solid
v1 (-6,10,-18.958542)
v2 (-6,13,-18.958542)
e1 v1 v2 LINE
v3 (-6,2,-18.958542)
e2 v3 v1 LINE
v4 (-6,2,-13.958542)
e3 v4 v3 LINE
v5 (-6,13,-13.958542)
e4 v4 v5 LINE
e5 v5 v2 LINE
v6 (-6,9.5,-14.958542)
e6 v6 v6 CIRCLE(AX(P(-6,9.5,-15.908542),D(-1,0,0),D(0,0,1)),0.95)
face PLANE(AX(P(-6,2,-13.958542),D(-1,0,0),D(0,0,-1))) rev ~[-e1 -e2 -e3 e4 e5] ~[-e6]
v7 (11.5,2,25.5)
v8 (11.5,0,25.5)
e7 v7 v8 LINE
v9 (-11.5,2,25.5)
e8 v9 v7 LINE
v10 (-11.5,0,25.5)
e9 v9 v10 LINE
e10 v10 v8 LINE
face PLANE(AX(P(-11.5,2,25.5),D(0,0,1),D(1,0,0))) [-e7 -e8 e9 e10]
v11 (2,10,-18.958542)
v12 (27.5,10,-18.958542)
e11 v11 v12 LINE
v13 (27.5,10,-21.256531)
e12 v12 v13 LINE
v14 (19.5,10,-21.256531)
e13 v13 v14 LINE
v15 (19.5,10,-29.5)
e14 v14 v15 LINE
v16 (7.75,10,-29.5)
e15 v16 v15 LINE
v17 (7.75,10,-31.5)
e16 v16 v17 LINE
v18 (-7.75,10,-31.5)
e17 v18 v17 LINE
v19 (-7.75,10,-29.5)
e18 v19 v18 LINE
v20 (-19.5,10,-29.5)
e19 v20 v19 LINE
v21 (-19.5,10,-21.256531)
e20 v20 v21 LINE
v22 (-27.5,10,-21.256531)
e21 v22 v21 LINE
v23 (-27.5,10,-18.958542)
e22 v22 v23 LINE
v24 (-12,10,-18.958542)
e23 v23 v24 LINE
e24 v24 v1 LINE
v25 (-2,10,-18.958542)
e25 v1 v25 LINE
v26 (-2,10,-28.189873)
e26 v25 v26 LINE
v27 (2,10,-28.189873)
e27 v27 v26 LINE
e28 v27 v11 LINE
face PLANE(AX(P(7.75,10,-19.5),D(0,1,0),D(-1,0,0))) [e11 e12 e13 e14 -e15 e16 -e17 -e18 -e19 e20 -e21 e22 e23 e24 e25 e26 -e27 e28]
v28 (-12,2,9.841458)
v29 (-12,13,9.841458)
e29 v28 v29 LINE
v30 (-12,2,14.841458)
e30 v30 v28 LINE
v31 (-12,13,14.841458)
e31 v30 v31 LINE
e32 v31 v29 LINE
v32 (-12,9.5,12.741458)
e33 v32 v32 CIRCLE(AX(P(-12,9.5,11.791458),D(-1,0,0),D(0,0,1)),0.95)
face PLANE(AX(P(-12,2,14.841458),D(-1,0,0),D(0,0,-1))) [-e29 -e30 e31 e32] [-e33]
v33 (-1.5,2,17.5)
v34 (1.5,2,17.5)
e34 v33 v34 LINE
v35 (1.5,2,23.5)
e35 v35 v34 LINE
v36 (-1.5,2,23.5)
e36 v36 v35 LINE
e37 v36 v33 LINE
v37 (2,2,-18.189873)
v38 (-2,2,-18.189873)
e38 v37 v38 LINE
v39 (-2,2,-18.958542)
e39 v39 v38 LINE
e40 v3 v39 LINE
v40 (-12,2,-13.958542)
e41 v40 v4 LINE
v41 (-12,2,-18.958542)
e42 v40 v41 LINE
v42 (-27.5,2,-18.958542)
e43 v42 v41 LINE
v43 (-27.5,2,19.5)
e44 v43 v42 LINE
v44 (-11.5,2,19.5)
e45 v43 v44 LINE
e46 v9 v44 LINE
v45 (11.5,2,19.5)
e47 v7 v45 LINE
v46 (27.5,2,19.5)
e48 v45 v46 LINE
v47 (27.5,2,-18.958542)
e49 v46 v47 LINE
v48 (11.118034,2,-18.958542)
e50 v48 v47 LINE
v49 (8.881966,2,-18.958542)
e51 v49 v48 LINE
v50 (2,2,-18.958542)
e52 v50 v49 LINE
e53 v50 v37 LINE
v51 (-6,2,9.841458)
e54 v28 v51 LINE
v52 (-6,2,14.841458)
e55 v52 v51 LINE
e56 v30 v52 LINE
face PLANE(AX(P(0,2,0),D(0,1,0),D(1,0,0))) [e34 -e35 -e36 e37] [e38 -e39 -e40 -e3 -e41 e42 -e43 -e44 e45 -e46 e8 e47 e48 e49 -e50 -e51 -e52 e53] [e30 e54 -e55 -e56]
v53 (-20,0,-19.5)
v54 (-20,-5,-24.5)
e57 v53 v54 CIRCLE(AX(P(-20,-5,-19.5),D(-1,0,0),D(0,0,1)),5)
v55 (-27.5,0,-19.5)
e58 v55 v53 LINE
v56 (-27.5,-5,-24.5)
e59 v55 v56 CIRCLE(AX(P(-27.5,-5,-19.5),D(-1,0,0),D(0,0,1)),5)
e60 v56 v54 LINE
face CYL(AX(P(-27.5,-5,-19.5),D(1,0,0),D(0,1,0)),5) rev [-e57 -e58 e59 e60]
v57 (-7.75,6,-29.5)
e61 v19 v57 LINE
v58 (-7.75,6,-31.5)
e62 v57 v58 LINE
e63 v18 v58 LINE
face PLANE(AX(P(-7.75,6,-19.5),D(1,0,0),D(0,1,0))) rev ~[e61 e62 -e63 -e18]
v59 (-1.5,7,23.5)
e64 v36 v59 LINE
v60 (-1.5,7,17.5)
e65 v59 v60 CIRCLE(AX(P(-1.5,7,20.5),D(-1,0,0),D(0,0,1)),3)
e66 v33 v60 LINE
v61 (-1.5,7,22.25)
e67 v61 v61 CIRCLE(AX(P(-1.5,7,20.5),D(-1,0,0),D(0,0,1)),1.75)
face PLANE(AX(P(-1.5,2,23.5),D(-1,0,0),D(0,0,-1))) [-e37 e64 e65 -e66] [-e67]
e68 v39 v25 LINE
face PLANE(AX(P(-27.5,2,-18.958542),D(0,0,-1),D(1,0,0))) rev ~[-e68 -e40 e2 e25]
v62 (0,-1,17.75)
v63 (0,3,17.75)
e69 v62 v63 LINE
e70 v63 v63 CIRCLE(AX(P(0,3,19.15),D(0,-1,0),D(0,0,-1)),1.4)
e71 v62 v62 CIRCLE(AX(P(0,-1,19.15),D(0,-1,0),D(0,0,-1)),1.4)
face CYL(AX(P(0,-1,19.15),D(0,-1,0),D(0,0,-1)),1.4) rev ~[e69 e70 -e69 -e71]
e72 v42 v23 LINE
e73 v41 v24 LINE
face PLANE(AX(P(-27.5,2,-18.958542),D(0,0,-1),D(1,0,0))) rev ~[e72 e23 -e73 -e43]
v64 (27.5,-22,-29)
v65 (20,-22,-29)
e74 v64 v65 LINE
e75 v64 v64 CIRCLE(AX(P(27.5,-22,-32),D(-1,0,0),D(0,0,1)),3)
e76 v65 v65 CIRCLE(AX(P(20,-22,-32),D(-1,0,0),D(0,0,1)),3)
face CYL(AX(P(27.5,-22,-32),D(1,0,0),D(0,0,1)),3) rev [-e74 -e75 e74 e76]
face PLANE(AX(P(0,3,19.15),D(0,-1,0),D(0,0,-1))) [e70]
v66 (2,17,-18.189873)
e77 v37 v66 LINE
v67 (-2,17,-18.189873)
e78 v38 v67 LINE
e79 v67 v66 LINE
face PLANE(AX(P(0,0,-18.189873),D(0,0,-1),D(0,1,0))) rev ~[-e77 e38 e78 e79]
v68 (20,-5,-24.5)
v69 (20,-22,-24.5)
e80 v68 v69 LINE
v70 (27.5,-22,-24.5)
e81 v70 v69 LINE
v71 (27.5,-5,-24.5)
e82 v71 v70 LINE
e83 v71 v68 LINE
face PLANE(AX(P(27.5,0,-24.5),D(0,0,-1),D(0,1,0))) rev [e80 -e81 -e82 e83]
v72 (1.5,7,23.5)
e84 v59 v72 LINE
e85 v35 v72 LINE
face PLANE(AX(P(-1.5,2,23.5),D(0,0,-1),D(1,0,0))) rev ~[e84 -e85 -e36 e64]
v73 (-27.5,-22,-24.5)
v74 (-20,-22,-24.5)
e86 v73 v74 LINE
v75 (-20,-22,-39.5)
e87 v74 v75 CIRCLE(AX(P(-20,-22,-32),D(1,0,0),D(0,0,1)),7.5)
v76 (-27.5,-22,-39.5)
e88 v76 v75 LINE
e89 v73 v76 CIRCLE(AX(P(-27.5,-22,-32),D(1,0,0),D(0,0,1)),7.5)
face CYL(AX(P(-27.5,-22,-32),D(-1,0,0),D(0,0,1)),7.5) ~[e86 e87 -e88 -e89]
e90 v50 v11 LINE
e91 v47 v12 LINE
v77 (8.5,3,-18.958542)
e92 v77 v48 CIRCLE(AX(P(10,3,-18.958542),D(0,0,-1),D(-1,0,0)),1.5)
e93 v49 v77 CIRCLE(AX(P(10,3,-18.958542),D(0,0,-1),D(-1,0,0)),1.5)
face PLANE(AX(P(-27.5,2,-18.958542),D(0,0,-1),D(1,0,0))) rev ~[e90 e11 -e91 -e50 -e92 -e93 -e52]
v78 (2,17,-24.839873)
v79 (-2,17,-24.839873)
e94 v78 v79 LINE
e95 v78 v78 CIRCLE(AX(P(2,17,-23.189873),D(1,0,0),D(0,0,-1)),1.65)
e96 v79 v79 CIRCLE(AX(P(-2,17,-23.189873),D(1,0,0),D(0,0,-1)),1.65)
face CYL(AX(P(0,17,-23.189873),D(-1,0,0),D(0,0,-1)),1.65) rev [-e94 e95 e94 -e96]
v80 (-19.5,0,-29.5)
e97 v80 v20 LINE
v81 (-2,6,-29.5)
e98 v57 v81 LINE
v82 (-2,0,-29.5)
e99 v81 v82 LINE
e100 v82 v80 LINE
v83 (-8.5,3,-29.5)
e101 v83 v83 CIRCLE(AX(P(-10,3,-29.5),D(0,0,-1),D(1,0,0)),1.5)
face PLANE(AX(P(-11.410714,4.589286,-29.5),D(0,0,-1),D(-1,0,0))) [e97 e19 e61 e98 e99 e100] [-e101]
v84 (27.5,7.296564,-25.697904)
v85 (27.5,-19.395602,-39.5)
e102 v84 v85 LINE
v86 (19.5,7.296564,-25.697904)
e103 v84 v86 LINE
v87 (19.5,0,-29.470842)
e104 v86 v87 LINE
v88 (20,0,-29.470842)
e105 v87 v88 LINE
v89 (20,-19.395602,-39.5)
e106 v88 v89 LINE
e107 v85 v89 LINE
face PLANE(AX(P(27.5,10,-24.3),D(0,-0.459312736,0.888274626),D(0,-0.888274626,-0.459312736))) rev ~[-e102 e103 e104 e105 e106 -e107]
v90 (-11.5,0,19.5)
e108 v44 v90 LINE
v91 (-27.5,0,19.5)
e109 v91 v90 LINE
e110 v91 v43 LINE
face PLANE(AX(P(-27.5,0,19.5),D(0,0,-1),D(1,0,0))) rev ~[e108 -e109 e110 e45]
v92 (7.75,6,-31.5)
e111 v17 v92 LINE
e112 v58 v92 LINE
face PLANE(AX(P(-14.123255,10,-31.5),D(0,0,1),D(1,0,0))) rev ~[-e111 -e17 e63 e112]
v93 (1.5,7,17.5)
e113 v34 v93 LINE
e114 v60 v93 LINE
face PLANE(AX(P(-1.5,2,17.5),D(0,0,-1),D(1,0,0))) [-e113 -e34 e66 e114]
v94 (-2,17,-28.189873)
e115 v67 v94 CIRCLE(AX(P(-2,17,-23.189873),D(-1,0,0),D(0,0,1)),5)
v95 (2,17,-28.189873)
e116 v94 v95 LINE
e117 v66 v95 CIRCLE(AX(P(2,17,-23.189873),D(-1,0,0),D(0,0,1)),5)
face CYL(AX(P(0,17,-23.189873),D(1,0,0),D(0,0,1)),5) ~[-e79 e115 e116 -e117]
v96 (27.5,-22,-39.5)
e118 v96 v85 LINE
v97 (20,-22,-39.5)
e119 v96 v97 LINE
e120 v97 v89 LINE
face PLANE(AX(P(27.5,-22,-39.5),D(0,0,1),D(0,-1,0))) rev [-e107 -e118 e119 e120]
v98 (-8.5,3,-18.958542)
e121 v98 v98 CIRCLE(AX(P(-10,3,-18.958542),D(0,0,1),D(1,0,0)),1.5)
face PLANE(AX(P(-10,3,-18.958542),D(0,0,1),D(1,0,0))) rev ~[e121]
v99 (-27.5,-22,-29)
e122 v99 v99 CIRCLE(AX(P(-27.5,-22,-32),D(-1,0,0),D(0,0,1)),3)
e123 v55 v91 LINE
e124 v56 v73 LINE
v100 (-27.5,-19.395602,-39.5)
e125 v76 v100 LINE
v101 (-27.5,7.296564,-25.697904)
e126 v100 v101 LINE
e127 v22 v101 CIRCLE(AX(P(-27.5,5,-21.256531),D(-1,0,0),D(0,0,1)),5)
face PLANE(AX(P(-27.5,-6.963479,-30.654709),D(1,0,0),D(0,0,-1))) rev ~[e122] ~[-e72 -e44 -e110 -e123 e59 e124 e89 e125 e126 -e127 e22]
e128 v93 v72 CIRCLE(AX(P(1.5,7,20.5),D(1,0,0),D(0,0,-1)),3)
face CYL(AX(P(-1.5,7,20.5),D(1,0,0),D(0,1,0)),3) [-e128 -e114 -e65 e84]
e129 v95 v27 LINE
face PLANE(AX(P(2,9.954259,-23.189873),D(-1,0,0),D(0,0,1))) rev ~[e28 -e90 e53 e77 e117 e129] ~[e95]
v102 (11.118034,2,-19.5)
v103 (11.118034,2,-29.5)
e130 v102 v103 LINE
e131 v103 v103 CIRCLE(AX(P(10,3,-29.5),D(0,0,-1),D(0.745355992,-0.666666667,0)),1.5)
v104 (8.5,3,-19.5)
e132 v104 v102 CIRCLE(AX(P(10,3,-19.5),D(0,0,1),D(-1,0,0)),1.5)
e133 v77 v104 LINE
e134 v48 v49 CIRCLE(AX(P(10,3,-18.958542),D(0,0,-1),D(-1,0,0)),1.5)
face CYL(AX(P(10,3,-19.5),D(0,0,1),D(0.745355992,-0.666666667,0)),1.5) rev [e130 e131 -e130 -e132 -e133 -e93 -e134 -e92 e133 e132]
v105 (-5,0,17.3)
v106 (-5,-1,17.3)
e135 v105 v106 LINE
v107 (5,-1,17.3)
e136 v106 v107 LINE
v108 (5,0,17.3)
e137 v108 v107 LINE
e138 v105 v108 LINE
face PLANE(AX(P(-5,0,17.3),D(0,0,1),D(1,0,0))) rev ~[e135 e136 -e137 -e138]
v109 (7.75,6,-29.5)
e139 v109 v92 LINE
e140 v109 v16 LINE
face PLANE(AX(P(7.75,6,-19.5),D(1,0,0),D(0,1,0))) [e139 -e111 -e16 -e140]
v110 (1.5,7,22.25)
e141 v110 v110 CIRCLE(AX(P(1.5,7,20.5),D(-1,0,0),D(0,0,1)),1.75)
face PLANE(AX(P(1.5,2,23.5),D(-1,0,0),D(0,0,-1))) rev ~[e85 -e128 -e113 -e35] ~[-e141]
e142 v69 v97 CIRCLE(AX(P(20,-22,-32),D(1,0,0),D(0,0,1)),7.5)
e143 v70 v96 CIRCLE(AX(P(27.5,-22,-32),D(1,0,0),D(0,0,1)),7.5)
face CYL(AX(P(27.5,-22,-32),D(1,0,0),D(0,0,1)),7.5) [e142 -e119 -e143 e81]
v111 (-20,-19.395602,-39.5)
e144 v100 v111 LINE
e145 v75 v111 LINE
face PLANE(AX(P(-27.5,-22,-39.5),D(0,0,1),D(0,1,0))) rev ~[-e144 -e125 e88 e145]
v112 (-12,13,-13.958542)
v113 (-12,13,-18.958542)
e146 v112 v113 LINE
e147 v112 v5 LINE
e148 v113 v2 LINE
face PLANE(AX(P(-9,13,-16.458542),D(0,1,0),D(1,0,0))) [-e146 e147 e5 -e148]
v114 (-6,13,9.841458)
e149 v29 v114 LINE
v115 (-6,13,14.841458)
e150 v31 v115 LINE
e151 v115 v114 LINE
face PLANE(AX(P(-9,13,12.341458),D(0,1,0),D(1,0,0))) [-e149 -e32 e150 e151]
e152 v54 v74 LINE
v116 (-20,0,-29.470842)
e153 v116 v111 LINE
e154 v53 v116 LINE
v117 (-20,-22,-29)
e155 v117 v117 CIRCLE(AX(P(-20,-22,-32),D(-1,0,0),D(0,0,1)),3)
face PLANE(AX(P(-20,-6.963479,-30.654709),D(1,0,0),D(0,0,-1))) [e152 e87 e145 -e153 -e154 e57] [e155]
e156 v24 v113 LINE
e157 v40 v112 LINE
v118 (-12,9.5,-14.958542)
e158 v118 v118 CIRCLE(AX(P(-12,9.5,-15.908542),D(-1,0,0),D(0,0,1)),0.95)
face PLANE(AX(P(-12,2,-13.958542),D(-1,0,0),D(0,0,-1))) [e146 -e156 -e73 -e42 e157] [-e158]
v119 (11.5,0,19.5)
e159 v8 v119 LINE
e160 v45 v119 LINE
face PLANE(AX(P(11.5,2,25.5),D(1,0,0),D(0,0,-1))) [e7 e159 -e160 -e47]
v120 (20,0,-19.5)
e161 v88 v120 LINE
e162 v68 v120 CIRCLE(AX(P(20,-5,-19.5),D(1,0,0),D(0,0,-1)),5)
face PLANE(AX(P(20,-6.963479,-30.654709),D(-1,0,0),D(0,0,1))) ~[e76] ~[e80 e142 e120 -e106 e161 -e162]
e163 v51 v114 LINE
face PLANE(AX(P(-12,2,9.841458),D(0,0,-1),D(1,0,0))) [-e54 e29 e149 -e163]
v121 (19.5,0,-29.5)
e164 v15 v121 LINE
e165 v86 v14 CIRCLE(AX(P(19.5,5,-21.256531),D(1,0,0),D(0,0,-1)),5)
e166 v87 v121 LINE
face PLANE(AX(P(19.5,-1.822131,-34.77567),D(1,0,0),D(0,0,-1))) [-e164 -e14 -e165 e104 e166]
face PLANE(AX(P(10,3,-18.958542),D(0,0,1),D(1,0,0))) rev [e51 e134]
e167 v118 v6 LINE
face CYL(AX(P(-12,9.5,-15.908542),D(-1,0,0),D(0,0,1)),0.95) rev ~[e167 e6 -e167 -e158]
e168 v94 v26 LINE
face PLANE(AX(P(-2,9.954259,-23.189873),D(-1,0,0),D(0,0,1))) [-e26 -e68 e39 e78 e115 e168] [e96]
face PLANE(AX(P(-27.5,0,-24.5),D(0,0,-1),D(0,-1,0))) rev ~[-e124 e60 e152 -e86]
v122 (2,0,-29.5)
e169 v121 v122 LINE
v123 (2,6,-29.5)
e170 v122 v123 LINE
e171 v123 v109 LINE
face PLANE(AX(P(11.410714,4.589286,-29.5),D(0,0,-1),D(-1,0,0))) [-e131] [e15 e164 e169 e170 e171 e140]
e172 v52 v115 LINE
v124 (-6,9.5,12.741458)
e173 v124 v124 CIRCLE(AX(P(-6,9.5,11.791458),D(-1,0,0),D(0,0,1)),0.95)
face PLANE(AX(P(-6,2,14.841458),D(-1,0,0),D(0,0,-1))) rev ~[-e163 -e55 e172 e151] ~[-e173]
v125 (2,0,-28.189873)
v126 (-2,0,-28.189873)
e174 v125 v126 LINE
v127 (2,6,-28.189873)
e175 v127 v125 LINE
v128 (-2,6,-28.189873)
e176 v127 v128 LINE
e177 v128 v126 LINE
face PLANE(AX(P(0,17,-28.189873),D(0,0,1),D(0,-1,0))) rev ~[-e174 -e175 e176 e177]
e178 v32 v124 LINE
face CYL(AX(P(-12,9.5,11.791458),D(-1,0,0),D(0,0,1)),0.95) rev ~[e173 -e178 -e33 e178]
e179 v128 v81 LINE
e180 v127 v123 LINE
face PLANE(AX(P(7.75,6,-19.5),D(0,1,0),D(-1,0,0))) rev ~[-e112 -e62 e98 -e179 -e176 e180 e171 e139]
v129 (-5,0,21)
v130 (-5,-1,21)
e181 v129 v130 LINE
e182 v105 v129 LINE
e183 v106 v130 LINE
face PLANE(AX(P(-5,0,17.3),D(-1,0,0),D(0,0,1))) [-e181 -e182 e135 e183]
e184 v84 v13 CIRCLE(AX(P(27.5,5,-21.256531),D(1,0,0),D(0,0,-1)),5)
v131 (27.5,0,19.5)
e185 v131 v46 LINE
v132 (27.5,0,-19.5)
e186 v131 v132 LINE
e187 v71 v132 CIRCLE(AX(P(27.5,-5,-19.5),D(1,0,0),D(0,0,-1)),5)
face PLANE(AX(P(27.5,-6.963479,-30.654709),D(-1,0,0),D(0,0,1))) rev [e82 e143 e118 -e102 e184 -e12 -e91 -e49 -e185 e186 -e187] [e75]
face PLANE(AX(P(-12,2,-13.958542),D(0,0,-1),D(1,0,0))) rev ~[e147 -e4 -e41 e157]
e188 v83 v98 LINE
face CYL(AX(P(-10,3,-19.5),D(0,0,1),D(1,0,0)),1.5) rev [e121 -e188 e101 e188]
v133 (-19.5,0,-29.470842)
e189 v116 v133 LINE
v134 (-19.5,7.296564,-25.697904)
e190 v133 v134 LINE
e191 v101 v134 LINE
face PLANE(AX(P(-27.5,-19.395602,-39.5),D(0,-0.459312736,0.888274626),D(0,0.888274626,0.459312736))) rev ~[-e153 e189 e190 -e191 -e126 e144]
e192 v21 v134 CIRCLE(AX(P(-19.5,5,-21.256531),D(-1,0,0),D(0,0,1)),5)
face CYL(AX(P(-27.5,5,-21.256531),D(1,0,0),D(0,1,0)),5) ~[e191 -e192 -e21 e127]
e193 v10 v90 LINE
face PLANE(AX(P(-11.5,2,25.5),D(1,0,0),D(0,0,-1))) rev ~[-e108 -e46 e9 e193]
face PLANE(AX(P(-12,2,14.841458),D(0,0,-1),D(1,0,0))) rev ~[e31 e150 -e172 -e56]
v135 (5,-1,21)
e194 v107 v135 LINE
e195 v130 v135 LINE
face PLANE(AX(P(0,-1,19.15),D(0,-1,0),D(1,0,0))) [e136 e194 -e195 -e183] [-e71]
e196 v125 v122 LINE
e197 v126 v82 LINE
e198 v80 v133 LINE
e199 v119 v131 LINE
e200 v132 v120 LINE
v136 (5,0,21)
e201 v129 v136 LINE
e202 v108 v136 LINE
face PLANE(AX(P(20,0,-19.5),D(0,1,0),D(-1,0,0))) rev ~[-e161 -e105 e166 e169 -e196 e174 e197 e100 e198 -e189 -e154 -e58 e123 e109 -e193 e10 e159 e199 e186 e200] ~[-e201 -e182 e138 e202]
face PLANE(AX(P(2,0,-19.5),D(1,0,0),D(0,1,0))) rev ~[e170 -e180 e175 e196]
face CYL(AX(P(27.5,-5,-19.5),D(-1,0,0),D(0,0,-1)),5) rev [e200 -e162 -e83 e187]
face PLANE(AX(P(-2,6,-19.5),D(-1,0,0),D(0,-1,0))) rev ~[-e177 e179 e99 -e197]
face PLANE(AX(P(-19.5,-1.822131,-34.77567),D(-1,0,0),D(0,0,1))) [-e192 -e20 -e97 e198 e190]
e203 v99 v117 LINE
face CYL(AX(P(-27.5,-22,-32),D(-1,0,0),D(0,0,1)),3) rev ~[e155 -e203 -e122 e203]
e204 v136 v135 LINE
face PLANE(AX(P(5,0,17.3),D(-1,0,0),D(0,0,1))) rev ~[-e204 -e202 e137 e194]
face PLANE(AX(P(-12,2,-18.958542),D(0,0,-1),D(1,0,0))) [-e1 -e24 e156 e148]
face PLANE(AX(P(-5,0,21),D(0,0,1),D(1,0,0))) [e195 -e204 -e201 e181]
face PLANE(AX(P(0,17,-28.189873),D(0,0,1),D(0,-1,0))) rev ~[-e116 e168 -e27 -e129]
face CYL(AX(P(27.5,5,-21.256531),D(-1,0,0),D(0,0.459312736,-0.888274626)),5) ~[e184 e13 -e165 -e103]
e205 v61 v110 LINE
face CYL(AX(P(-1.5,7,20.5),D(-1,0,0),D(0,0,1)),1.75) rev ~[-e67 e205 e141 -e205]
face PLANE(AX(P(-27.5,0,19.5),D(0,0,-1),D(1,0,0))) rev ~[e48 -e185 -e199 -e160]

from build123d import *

# Parameters (mm, degrees)
SKETCH_1_W          = 55
SKETCH_1_H          = 39
EXTRUDE_1_DEPTH     = 2
SKETCH_2_W          = 23
SKETCH_2_H          = 6
EXTRUDE_2_DEPTH     = 2
SKETCH_3_W          = 6
SKETCH_3_H          = 5
EXTRUDE_3_DEPTH     = 11
SKETCH_5_R          = 0.95
CUT_EXTRUDE_1_DEPTH = 11
SKETCH_6_W          = 55
SKETCH_6_H          = 0.541458129
EXTRUDE_4_DEPTH     = 8
SKETCH_8_R          = 1.65
EXTRUDE_6_DEPTH     = 2
SKETCH_10_W         = 3
SKETCH_10_H         = 6
EXTRUDE_7_DEPTH     = 8
SKETCH_11_R         = 1.5
CUT_EXTRUDE_3_DEPTH = 13
SKETCH_12_R         = 3
EXTRUDE_8_DEPTH     = 7.5
SKETCH_13_W         = 10
SKETCH_13_H         = 3.7
EXTRUDE_9_DEPTH     = 1
FILLET_3_RADIUS     = 3
FILLET_3_LENGTH     = 3
SKETCH_15_R         = 1.75
CUT_EXTRUDE_5_DEPTH = 23
SKETCH_16_W         = 15.5
SKETCH_16_H         = 4
EXTRUDE_10_DEPTH    = 20
SKETCH_17_R         = 1.5
EXTRUDE_11_DEPTH    = 10
FILLET_4_R          = 10
SKETCH_18_W         = 26.564734734
SKETCH_18_H         = 10.454508508
CUT_EXTRUDE_6_DEPTH = 10
CUT_EXTRUDE_7_DEPTH = 8
CUT_EXTRUDE_8_DEPTH = 8
FILLET_6_R          = 5
SKETCH_21_R         = 1.4
CUT_EXTRUDE_9_DEPTH = 4


with BuildPart() as part:
    # 草图1 → 凸台-拉伸1 (new body)
    with BuildSketch(Plane(origin=(0, 0, 0), x_dir=(1, 0, 0), z_dir=(0, 1, 0))):
        Rectangle(SKETCH_1_W, SKETCH_1_H)
    extrude(amount=EXTRUDE_1_DEPTH)

    # 草图2 → 凸台-拉伸2 (add)
    with BuildSketch(Plane(origin=(0, 2, 0), x_dir=(1, 0, 0), z_dir=(0, 1, 0))):
        with Locations((0, -22.5)):
            Rectangle(SKETCH_2_W, SKETCH_2_H)
    extrude(amount=-EXTRUDE_2_DEPTH)

    # 草图3 → 凸台-拉伸3 (add)
    with BuildSketch(Plane(origin=(0, 2, 0), x_dir=(1, 0, 0), z_dir=(0, 1, 0))):
        with Locations((-9, -12.341458129)):
            Rectangle(SKETCH_3_W, SKETCH_3_H)
        with Locations((-9, 16.458541871)):
            Rectangle(SKETCH_3_W, SKETCH_3_H)
    extrude(amount=EXTRUDE_3_DEPTH)

    # 草图5 → 切除-拉伸1 (cut)
    with BuildSketch(Plane.ZY.offset(12)):
        with Locations((-15.908541871, 9.5)):
            Circle(SKETCH_5_R)
        with Locations((11.791458129, 9.5)):
            Circle(SKETCH_5_R)
    extrude(amount=-CUT_EXTRUDE_1_DEPTH, mode=Mode.SUBTRACT)

    # 草图6 → 凸台-拉伸4 (add)
    with BuildSketch(Plane(origin=(0, 2, 0), x_dir=(1, 0, 0), z_dir=(0, 1, 0))):
        with Locations((0, 19.229270936)):
            Rectangle(SKETCH_6_W, SKETCH_6_H)
    extrude(amount=EXTRUDE_4_DEPTH)

    # 草图8 → 凸台-拉伸6 (add, symmetric)
    with BuildSketch(Plane(origin=(0, 0, 0), x_dir=(0, 0, -1), z_dir=(1, 0, 0))):
        with BuildLine():
            Line((28.189872998, 17), (28.189872998, 0))
            Line((28.189872998, 0), (18.189872998, 0))
            Line((18.189872998, 0), (18.189872998, 17))
            ThreePointArc((18.189872998, 17), (23.189872998, 22), (28.189872998, 17))
        make_face()
        with Locations((23.189872998, 17)):
            Circle(SKETCH_8_R, mode=Mode.SUBTRACT)
    extrude(amount=EXTRUDE_6_DEPTH, both=True)

    # 草图10 → 凸台-拉伸7 (add)
    with BuildSketch(Plane(origin=(0, 2, 0), x_dir=(1, 0, 0), z_dir=(0, 1, 0))):
        with Locations((0, -20.5)):
            Rectangle(SKETCH_10_W, SKETCH_10_H)
    extrude(amount=EXTRUDE_7_DEPTH)

    # 草图11 → 切除-拉伸3 (cut)
    with BuildSketch(Plane.XY.offset(-18.958541871)):
        with Locations((-10, 3)):
            Circle(SKETCH_11_R)
    cut_extrude_3 = extrude(amount=-CUT_EXTRUDE_3_DEPTH, mode=Mode.SUBTRACT)

    # 草图12 → 凸台-拉伸8 (add)
    with BuildSketch(Plane.ZY.offset(27.5)):
        with BuildLine():
            Line((-39.5, -22), (-39.5, 10))
            Line((-39.5, 10), (-19.5, 10))
            Line((-19.5, 10), (-19.5, 0))
            Line((-19.5, 0), (-24.5, 0))
            Line((-24.5, 0), (-24.5, -22))
            ThreePointArc((-24.5, -22), (-32, -29.5), (-39.5, -22))
        make_face()
        with Locations((-32, -22)):
            Circle(SKETCH_12_R, mode=Mode.SUBTRACT)
    extrude_8 = extrude(amount=-EXTRUDE_8_DEPTH)

    # 草图13 → 凸台-拉伸9 (add)
    with BuildSketch(Plane.XZ):
        with Locations((0, 19.15)):
            Rectangle(SKETCH_13_W, SKETCH_13_H)
    extrude(amount=EXTRUDE_9_DEPTH)

    # 镜向1: 切除-拉伸3, 凸台-拉伸8 across plane
    add(cut_extrude_3.mirror(Plane(origin=(0, 0, 0), x_dir=(0, 0, 1), z_dir=(1, 0, 0))), mode=Mode.SUBTRACT)
    add(extrude_8.mirror(Plane(origin=(0, 0, 0), x_dir=(0, 0, 1), z_dir=(1, 0, 0))))

    # 圆角3: full round fillet: the end face becomes a half cylinder, R = half its width
    fillet_3_face = Plane((0, 10, 20.5), x_dir=(1, 0, 0), z_dir=(0, 1, 0))  # on the end face: x along it, z out of the body
    fillet_3_slab = fillet_3_face.offset(-FILLET_3_RADIUS / 2) * Box(FILLET_3_LENGTH, 2 * FILLET_3_RADIUS, FILLET_3_RADIUS, mode=Mode.PRIVATE)  # the body's end, R deep
    fillet_3_round = Plane((0, 7, 20.5), x_dir=(0, 1, 0), z_dir=(1, 0, 0)) * Cylinder(FILLET_3_RADIUS, FILLET_3_LENGTH, mode=Mode.PRIVATE)  # its axis R under the face
    add(fillet_3_slab - fillet_3_round, mode=Mode.SUBTRACT)

    # 草图15 → 切除-拉伸5 (cut)
    with BuildSketch(Plane.ZY.offset(1.5)):
        with Locations((20.5, 7)):
            Circle(SKETCH_15_R)
    extrude(amount=-CUT_EXTRUDE_5_DEPTH, mode=Mode.SUBTRACT)

    # 草图16 → 凸台-拉伸10 (add)
    with BuildSketch(Plane(origin=(0, 0, -19.5), x_dir=(-1, 0, 0), z_dir=(0, 0, -1))):
        with Locations((0, 8)):
            Rectangle(SKETCH_16_W, SKETCH_16_H)
    extrude(amount=EXTRUDE_10_DEPTH)

    # 草图17 → 凸台-拉伸11 (add)
    # profile 1 of 2: a face of its own
    with BuildSketch(Plane(origin=(0, 0, -19.5), x_dir=(-1, 0, 0), z_dir=(0, 0, -1))):
        Polygon((-20, 0), (-2, 0), (-2, 6), (-7.75, 6), (-7.75, 10), (-20, 10), align=None)
        with Locations(Location((-10, 3, 0), (0, 0, 221.810314896))):
            Circle(SKETCH_17_R, mode=Mode.SUBTRACT)
    # profile 2 of 2: a face of its own
    with BuildSketch(Plane(origin=(0, 0, -19.5), x_dir=(-1, 0, 0), z_dir=(0, 0, -1))):
        Polygon((7.75, 6), (2, 6), (2, 0), (20, 0), (20, 10), (7.75, 10), align=None)
        with Locations(Location((10, 3, 0), (0, 0, 180))):
            Circle(SKETCH_17_R, mode=Mode.SUBTRACT)
    extrude(amount=EXTRUDE_11_DEPTH)

    # 圆角4
    fillet_4_edges = [part.edges().sort_by_distance(p)[0] for p in [
        (23.75, 10, -39.5),
        (-23.75, 10, -39.5),
    ]]
    fillet(fillet_4_edges, radius=FILLET_4_R)

    # 草图18 → 切除-拉伸6 (cut)
    with BuildSketch(Plane(origin=(0, 10, 0), x_dir=(1, 0, 0), z_dir=(0, 1, 0))):
        with Locations((-0.840887807, 36.727254254)):
            Rectangle(SKETCH_18_W, SKETCH_18_H)
    extrude(amount=-CUT_EXTRUDE_6_DEPTH, mode=Mode.SUBTRACT)

    # 草图19 → 切除-拉伸7 (cut)
    with BuildSketch(Plane(origin=(27.5, 0, 0), x_dir=(0, 0, -1), z_dir=(1, 0, 0))):
        Polygon((24.3, 10), (39.5, -19.395601839), (39.5, 10), align=None)
    extrude(amount=-CUT_EXTRUDE_7_DEPTH, mode=Mode.SUBTRACT)

    # 草图20 → 切除-拉伸8 (cut)
    with BuildSketch(Plane.ZY.offset(27.5)):
        Polygon((-24.3, 10), (-39.5, 10), (-39.5, -19.395601839), align=None)
    extrude(amount=-CUT_EXTRUDE_8_DEPTH, mode=Mode.SUBTRACT)

    # 圆角6
    fillet_6_edges = [part.edges().sort_by_distance(p)[0] for p in [
        (-23.75, 0, -24.5),
        (23.75, 0, -24.5),
        (23.5, 10, -24.3),
        (-23.5, 10, -24.3),
    ]]
    fillet(fillet_6_edges, radius=FILLET_6_R)

    # 草图21 → 切除-拉伸9 (cut)
    with BuildSketch(Plane.XZ.offset(1)):
        with Locations(Location((0, 19.15, 0), (0, 0, 270))):
            Circle(SKETCH_21_R)
    extrude(amount=-CUT_EXTRUDE_9_DEPTH, mode=Mode.SUBTRACT)


solid = part.part
